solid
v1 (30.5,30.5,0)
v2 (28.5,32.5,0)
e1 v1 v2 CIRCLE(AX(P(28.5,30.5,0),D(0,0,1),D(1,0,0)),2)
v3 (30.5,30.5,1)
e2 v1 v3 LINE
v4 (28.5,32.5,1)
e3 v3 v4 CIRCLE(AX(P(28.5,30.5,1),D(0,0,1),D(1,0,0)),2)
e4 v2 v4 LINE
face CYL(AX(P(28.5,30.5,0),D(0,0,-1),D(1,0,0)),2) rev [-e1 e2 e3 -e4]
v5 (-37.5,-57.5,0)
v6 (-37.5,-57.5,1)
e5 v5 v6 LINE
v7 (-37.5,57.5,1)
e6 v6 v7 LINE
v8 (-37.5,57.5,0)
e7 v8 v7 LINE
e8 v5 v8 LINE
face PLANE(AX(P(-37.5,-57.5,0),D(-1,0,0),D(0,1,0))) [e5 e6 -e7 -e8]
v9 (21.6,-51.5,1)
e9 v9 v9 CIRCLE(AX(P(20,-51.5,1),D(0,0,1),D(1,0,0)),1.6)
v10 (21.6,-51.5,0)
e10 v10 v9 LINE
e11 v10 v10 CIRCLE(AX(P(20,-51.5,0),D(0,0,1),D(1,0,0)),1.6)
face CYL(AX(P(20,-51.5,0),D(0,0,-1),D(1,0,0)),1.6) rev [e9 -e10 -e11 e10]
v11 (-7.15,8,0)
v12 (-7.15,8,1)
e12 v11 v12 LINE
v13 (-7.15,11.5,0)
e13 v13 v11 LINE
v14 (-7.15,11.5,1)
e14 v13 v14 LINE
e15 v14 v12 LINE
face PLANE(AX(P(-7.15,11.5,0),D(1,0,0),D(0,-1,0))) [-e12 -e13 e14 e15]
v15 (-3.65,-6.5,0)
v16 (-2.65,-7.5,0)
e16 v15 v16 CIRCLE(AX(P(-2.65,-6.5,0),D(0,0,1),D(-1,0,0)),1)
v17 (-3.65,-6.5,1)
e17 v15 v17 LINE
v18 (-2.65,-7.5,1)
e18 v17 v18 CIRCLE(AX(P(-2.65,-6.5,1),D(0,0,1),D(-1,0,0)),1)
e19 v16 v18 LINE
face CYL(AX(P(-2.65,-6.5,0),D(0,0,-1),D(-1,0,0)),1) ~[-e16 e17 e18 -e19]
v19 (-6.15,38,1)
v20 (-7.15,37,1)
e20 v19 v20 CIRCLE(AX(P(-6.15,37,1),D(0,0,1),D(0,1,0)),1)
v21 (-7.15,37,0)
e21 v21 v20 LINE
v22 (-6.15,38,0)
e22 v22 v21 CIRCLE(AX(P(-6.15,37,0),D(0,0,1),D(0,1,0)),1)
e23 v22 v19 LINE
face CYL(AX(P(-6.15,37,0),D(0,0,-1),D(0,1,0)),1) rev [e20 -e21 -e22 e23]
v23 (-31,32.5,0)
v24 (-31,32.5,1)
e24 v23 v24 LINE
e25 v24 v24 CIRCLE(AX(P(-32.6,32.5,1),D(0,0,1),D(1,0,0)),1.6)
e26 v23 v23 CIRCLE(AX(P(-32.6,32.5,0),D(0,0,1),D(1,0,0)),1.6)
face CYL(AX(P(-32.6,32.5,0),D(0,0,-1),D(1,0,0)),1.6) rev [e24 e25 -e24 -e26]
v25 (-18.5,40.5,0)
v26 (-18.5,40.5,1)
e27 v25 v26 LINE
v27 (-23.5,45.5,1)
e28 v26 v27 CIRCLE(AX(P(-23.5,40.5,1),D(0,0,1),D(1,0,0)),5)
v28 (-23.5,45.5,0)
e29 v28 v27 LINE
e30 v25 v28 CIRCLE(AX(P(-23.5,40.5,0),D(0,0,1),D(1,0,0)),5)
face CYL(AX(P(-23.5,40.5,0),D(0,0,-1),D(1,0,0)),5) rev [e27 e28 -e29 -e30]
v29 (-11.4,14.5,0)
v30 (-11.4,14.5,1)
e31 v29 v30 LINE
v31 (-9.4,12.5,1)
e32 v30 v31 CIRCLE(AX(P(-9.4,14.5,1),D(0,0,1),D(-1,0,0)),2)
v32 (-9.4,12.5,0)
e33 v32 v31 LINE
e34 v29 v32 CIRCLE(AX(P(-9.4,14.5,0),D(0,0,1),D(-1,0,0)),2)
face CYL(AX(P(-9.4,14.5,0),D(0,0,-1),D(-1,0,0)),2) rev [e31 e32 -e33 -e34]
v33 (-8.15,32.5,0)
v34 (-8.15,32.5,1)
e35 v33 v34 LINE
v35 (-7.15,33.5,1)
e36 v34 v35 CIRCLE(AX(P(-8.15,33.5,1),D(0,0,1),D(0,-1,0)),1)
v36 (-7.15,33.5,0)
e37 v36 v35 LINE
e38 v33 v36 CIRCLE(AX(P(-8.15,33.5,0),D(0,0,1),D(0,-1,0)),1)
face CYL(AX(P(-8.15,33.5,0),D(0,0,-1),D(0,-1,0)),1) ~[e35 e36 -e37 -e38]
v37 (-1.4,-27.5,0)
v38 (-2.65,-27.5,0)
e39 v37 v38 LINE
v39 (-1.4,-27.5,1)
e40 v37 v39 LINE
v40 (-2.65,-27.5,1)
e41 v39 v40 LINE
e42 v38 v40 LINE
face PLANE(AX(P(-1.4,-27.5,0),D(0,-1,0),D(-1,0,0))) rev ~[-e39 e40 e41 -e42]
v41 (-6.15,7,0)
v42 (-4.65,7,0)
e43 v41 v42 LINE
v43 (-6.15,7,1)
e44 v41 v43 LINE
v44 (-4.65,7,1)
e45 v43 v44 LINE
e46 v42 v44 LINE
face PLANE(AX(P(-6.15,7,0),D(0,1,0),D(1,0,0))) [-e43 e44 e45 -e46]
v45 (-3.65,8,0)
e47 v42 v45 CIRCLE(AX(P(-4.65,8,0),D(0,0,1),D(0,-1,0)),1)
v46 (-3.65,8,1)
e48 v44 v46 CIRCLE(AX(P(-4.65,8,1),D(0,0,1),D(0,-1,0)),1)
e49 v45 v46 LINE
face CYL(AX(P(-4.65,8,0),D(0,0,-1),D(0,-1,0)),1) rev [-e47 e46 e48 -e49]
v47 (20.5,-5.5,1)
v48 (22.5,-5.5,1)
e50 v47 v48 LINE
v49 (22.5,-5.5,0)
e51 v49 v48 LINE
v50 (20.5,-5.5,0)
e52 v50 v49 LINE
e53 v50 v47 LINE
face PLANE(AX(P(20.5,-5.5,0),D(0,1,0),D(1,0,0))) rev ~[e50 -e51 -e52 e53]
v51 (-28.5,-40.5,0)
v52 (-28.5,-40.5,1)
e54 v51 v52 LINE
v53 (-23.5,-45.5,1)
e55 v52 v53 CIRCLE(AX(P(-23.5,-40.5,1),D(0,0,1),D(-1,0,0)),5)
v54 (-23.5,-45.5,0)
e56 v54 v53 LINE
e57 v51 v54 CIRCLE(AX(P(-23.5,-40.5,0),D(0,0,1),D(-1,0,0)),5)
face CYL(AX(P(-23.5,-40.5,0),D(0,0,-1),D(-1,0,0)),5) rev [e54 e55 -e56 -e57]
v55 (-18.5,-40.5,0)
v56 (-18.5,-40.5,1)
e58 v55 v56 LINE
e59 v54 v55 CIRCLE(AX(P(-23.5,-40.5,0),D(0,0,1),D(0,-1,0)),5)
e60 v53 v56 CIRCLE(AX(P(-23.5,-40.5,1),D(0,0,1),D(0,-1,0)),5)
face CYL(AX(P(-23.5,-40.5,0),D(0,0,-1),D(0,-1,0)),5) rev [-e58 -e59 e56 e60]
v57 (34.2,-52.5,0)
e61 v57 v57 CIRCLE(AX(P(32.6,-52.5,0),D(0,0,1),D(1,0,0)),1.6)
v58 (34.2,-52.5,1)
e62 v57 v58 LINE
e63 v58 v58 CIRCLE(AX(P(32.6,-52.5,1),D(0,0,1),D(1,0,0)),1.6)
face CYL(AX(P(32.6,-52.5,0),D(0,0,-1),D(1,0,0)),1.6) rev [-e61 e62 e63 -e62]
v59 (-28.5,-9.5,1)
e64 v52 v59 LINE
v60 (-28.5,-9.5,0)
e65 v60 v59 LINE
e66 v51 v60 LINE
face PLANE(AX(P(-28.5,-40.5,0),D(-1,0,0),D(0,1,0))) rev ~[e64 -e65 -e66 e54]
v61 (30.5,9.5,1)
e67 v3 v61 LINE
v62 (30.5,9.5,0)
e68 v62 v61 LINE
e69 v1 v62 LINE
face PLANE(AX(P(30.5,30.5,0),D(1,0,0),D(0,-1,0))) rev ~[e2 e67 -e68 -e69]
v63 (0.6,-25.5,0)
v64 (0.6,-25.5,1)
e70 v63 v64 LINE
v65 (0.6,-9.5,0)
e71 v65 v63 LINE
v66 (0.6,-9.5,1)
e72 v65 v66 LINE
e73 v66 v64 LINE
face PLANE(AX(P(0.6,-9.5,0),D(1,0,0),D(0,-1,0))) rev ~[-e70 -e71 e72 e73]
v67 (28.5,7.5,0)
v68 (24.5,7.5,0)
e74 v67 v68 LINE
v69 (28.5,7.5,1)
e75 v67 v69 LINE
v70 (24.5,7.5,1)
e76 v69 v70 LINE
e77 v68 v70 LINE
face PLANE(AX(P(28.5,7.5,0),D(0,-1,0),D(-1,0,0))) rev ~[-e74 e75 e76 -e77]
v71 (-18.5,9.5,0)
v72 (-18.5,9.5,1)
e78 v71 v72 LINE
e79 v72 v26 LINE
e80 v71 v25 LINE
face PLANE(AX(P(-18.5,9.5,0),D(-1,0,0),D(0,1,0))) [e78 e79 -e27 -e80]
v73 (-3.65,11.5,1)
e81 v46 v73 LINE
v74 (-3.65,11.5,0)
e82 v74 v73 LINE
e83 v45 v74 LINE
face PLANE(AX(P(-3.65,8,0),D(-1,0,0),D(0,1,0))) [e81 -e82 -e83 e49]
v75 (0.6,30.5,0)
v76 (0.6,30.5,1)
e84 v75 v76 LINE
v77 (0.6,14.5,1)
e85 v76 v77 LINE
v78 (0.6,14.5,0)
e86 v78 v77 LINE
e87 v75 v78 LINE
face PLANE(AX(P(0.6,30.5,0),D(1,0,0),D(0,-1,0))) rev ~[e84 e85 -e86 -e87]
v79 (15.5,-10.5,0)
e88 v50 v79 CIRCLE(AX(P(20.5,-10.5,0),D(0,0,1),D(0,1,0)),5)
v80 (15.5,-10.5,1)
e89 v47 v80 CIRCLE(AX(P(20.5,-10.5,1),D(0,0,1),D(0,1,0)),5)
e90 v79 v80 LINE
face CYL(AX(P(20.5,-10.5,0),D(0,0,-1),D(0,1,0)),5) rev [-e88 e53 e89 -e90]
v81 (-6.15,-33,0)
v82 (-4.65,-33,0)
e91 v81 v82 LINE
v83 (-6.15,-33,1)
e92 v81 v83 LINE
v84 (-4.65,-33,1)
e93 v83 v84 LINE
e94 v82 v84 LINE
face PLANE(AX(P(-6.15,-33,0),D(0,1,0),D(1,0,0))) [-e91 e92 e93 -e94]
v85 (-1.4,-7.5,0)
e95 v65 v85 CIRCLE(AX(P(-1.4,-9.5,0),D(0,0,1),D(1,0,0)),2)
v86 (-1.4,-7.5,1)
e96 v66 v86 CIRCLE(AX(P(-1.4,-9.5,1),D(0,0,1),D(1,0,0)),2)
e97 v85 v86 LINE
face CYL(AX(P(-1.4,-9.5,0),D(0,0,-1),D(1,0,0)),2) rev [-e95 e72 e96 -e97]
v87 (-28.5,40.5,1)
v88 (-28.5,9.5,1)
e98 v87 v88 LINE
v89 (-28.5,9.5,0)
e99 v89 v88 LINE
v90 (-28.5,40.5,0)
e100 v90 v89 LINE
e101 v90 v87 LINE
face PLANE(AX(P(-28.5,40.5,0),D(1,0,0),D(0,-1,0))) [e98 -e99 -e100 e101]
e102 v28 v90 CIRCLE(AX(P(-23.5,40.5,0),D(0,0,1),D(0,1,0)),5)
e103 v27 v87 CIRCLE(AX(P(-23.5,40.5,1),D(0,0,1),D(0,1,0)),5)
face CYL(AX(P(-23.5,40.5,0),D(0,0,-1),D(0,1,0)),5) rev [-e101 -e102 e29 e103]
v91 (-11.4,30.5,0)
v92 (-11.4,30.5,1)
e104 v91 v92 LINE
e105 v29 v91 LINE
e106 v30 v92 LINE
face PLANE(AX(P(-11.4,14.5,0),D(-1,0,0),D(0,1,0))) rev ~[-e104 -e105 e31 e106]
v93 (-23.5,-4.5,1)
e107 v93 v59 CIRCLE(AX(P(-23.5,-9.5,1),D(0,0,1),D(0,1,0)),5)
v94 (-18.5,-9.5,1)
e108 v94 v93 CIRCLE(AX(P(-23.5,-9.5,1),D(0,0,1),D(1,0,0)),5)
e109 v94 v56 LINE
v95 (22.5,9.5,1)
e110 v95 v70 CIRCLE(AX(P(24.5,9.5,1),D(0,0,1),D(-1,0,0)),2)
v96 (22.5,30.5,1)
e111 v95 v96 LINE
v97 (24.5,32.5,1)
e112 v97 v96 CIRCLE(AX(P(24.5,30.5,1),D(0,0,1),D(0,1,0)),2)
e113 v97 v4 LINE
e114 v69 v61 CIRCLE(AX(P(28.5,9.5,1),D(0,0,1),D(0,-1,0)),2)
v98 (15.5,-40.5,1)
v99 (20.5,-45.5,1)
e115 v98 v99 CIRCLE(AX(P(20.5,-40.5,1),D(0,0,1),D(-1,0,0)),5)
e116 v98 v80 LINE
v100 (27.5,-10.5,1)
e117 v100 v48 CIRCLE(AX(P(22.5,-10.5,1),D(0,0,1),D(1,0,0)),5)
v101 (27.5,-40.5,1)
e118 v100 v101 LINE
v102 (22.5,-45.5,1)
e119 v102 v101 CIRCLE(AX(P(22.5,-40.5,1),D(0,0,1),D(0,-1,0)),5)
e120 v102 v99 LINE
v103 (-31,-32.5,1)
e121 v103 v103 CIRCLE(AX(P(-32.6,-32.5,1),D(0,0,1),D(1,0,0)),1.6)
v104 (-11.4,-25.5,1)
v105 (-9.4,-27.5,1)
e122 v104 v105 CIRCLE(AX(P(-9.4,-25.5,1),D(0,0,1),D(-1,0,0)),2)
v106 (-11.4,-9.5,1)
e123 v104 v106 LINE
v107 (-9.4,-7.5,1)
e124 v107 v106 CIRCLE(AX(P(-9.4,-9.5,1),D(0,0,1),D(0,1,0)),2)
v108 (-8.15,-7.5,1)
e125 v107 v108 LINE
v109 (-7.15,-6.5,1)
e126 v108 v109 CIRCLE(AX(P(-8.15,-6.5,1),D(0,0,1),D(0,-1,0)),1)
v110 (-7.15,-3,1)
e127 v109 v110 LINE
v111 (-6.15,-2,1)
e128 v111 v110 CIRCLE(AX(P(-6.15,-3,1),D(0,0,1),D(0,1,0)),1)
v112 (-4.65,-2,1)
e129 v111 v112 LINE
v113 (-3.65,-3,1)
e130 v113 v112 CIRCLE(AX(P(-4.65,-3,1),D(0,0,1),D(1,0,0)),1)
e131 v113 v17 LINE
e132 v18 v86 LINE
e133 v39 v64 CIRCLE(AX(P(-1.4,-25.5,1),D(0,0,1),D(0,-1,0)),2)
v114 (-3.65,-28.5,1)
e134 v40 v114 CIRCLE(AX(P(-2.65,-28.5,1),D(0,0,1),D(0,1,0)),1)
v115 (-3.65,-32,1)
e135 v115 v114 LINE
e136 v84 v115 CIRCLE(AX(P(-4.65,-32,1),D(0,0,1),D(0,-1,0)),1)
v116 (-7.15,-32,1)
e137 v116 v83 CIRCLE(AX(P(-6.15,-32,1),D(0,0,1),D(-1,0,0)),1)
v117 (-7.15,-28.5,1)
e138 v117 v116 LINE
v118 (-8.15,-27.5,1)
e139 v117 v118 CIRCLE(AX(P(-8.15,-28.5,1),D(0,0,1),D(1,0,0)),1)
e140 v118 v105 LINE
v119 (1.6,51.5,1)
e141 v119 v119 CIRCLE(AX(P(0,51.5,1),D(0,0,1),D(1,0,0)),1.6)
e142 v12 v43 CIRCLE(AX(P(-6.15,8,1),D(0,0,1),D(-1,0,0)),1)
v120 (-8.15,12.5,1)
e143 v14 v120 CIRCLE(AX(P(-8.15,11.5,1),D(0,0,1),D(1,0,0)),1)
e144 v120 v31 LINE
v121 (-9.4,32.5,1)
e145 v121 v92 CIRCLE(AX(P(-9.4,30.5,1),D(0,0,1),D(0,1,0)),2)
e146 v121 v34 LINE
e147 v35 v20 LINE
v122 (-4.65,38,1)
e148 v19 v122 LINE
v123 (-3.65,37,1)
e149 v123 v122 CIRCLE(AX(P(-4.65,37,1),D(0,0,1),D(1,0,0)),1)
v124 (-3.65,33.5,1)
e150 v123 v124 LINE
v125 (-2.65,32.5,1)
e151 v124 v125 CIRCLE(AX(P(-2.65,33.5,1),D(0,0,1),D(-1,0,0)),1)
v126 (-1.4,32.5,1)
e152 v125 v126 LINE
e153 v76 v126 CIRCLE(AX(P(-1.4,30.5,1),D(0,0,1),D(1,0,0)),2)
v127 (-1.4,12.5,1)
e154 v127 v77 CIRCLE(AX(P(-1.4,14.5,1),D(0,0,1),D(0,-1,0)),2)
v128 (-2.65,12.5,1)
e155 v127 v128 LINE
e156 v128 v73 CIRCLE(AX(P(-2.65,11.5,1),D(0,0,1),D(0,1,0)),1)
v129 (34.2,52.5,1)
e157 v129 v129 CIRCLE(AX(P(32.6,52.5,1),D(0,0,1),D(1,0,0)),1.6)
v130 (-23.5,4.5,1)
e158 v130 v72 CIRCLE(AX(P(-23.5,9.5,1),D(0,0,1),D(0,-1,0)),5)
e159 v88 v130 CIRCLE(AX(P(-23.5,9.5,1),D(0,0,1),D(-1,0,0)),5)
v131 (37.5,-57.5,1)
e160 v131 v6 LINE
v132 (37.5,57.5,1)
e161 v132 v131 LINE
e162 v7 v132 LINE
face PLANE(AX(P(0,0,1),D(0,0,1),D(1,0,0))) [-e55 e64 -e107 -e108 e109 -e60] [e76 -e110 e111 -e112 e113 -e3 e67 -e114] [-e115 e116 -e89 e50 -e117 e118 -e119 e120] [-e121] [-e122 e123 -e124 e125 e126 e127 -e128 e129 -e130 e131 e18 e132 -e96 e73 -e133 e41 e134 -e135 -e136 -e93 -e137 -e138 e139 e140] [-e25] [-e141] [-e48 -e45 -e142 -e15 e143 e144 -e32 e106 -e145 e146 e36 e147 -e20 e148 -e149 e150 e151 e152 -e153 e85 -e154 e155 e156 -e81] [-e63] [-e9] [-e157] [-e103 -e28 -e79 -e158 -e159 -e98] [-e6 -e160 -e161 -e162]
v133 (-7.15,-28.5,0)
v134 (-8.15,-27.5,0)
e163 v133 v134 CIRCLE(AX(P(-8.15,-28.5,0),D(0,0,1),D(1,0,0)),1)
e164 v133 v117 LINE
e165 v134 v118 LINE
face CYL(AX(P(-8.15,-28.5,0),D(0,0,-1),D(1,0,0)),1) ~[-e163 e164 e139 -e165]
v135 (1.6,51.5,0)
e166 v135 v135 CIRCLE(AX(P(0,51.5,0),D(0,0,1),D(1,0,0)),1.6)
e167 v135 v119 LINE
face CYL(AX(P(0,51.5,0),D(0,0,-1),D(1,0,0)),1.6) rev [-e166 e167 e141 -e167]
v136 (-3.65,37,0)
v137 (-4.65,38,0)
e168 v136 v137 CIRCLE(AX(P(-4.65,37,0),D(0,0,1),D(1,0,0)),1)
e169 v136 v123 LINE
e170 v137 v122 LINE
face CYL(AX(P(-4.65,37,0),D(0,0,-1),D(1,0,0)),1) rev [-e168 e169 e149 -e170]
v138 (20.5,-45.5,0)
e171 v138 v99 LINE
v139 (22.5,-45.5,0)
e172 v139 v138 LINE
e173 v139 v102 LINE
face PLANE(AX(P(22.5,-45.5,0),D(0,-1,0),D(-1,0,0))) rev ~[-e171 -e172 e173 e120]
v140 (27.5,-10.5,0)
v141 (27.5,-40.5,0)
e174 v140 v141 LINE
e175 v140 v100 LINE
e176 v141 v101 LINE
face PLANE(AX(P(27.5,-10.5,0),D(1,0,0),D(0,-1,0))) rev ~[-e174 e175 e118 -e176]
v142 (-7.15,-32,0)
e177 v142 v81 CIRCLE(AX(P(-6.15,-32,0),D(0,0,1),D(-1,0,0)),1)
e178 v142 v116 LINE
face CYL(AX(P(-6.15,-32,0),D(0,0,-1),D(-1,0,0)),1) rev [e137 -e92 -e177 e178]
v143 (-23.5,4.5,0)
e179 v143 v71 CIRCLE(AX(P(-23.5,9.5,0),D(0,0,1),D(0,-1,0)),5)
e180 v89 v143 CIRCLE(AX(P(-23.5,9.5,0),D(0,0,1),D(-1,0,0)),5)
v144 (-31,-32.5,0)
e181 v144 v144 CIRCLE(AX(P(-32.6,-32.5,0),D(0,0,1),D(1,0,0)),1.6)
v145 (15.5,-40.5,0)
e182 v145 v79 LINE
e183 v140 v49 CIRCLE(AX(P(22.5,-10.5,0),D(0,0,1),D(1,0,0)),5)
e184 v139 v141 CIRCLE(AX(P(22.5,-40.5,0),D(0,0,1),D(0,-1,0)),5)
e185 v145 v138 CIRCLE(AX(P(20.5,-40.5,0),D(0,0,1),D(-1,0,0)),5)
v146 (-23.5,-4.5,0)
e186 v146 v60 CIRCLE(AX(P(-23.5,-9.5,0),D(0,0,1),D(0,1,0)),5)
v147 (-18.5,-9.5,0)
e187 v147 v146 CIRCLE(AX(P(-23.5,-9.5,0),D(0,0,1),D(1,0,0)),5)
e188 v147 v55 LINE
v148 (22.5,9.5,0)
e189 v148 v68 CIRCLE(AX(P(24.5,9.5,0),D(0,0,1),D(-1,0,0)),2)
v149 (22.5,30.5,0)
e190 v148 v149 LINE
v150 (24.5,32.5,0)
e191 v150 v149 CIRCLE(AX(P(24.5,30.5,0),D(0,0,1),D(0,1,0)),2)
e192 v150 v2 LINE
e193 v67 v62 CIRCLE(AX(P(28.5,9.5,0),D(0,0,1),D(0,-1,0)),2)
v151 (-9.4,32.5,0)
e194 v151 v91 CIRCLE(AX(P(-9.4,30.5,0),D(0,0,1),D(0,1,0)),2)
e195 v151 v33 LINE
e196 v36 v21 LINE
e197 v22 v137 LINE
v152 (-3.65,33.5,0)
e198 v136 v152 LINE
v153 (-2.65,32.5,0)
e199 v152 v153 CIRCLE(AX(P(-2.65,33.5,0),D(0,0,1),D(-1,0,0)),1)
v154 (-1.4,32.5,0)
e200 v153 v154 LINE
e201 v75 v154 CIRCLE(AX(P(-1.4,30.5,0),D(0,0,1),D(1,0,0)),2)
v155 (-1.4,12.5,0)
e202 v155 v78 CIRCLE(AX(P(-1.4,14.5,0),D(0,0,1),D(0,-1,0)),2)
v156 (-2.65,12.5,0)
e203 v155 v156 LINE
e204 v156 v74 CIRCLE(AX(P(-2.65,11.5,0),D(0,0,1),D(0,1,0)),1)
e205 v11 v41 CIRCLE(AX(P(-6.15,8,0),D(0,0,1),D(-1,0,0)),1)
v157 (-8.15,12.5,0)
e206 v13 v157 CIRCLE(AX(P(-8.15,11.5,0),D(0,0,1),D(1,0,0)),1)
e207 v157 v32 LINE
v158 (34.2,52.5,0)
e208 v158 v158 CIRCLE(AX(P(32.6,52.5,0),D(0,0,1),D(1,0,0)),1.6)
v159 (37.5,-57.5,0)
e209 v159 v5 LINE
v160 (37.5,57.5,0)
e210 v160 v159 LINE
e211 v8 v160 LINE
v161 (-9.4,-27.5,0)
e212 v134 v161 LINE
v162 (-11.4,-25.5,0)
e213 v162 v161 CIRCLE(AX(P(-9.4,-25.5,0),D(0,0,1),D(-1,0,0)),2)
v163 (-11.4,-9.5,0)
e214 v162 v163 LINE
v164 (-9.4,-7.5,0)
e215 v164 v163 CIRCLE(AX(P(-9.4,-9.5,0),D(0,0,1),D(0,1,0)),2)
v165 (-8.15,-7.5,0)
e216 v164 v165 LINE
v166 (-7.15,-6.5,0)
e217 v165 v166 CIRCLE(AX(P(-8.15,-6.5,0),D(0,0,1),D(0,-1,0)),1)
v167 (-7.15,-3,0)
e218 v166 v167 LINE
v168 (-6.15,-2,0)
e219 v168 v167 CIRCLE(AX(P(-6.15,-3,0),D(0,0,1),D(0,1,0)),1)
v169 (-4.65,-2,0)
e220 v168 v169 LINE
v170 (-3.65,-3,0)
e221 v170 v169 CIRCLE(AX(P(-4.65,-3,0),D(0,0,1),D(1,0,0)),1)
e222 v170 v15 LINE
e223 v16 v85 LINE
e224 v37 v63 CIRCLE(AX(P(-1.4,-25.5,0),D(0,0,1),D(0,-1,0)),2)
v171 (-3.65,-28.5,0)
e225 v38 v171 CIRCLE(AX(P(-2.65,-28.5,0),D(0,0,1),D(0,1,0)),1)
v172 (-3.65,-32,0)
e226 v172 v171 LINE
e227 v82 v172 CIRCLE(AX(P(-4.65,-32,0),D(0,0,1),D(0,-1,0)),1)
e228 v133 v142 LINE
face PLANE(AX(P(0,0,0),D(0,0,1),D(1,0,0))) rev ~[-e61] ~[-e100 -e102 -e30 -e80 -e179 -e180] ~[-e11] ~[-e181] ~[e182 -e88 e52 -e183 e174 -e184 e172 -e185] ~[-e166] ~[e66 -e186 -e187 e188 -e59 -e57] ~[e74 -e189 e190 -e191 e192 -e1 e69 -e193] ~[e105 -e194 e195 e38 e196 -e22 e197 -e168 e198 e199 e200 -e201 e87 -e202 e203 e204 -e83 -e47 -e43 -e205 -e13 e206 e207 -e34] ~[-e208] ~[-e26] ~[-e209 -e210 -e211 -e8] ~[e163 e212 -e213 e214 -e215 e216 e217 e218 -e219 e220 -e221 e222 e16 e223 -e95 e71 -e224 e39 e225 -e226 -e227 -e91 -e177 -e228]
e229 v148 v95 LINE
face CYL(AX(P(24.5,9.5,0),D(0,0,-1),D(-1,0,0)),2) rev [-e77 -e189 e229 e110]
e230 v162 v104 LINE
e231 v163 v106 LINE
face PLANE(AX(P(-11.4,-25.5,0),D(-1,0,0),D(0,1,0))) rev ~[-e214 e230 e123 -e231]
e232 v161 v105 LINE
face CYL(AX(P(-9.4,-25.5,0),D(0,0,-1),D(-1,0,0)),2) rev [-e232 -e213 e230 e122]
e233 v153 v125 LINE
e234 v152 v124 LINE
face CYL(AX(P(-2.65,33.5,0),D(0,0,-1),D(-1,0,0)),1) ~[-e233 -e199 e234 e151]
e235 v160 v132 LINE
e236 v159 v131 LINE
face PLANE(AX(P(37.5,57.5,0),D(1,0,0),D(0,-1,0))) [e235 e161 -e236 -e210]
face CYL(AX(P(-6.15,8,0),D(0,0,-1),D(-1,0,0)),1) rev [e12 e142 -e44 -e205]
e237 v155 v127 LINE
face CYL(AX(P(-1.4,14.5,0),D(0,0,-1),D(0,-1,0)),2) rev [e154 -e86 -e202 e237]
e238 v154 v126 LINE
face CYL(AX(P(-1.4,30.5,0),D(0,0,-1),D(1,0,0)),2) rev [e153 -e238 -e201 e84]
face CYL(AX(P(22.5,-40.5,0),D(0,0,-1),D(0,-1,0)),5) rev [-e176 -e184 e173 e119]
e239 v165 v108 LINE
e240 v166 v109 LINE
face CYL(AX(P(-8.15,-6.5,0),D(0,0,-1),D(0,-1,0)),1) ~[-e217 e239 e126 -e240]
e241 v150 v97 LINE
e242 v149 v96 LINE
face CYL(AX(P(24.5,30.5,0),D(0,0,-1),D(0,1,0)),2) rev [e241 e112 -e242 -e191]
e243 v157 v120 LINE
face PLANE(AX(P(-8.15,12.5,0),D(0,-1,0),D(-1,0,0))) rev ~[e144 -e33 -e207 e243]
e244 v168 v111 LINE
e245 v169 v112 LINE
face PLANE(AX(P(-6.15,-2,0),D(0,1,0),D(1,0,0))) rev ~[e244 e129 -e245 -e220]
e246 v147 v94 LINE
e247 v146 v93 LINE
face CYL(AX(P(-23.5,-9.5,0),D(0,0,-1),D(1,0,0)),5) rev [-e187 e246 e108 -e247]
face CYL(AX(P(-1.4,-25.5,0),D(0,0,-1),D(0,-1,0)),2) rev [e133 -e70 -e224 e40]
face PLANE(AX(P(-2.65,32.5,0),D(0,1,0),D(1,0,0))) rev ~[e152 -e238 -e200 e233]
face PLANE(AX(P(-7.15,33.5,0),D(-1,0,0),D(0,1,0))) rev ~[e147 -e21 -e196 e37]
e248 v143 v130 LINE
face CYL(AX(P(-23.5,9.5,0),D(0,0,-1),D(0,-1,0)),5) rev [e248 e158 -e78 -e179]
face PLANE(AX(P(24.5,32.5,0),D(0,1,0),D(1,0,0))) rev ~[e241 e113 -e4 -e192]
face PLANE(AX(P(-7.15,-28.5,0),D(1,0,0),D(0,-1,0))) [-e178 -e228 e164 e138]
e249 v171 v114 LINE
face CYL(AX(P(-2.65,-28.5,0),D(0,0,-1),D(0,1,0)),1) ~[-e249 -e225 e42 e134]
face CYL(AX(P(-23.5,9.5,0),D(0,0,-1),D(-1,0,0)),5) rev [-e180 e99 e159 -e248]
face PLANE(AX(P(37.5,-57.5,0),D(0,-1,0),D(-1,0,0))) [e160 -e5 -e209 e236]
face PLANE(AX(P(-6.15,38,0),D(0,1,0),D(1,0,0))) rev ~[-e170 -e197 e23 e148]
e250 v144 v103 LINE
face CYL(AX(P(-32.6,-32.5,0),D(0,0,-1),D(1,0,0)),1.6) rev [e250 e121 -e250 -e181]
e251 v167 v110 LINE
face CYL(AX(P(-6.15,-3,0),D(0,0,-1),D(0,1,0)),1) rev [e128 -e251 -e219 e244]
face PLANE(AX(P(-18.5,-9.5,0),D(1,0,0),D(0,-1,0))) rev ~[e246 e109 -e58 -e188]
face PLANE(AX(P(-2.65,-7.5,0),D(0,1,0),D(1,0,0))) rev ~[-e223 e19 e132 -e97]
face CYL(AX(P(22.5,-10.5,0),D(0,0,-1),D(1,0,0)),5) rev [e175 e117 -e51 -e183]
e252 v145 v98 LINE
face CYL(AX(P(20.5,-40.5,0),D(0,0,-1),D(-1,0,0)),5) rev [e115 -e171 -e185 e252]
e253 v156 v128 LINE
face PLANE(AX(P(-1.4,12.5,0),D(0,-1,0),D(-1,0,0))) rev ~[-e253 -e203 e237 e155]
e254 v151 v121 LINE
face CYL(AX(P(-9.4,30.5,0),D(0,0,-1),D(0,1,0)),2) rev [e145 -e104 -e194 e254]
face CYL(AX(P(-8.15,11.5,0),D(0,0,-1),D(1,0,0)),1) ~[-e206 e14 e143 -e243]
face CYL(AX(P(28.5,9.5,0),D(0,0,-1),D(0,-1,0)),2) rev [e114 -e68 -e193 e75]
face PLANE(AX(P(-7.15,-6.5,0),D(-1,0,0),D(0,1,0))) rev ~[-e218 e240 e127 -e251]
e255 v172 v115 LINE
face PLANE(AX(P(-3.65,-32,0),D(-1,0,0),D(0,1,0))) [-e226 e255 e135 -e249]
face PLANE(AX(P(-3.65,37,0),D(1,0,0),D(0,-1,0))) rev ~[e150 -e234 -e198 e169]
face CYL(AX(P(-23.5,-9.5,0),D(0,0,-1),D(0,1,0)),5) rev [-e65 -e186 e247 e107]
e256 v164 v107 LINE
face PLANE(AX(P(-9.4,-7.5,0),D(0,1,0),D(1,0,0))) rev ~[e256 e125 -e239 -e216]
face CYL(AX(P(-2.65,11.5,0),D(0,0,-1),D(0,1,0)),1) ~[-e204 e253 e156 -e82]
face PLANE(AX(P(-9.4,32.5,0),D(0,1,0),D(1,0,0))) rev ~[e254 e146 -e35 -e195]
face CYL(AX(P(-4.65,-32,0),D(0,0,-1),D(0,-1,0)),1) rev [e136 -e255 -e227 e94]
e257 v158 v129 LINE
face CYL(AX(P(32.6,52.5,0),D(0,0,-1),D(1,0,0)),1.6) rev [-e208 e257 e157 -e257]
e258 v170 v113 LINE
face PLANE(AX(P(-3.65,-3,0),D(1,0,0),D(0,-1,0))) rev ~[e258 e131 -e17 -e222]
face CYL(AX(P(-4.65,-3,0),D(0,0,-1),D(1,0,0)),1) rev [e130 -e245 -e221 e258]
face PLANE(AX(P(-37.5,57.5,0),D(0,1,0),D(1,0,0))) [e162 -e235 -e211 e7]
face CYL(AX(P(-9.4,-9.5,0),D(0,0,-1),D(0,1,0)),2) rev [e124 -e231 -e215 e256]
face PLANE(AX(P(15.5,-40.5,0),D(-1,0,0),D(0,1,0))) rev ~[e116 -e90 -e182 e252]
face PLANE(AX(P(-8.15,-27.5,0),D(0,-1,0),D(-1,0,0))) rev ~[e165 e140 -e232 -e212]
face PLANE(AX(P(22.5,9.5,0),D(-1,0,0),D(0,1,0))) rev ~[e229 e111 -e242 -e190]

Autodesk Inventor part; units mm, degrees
ref_plane "YZ Plane" through (0, 0, 0) normal (1, 0, 0) x (0, 1, 0)
ref_plane "XZ Plane" through (0, 0, 0) normal (0, 1, 0) x (-1, 0, 0)
ref_plane "XY Plane" through (0, 0, 0) normal (0, 0, 1) x (1, 0, 0)
sketch "Sketch1" plane through (0, 0, 0) normal (0, 0, 1) x (1, 0, 0)
  line L0 (-37.5, 57.5) -> (37.5, 57.5)
  line L1 (37.5, 57.5) -> (37.5, -57.5)
  line L2 (37.5, -57.5) -> (-37.5, -57.5)
  line L3 (-37.5, -57.5) -> (-37.5, 57.5)
  line L4 (-37.5, 57.5) -> (37.5, -57.5) construction
  line L5 (37.5, 57.5) -> (-37.5, -57.5) construction
  line L6 (0, 0) -> (0, 12.9993)
  circle A0 centre (-32.6, -32.5) radius 1.6
  circle A1 centre (0, 51.5) radius 1.6
  line L7 (0, 0) -> (8.7382, 0)
  circle A2 centre (20, -51.5) radius 1.6
  circle A3 centre (-32.6, 32.5) radius 1.6
  circle A4 centre (32.6, 52.5) radius 1.6
  circle A5 centre (32.6, -52.5) radius 1.6
  line L8 (0.6, -9.5) -> (0.6, -25.5)
  line L9 (-11.4, -25.5) -> (-11.4, -9.5)
  line L10 (-11.4, -7.5) -> (0.6, -27.5) construction
  line L11 (0.6, -7.5) -> (-11.4, -27.5) construction
  line L12 (-6.15, -2) -> (-4.65, -2)
  line L13 (-3.65, -3) -> (-3.65, -6.5)
  line L14 (-7.15, -6.5) -> (-7.15, -3)
  line L15 (-7.15, -2) -> (-3.65, -7.5) construction
  line L16 (-3.65, -2) -> (-7.15, -7.5) construction
  line L17 (-6.15, -33) -> (-4.65, -33)
  line L18 (-3.65, -32) -> (-3.65, -28.5)
  line L19 (-7.15, -28.5) -> (-7.15, -32)
  line L20 (-7.15, -33) -> (-3.65, -27.5) construction
  line L21 (-3.65, -33) -> (-7.15, -27.5) construction
  line L22 (28.5, 7.5) -> (24.5, 7.5)
  line L23 (22.5, 9.5) -> (22.5, 30.5)
  line L24 (24.5, 32.5) -> (28.5, 32.5)
  line L25 (30.5, 30.5) -> (30.5, 9.5)
  line L26 (30.5, 7.5) -> (22.5, 32.5) construction
  line L27 (22.5, 7.5) -> (30.5, 32.5) construction
  line L28 (-23.5, -45.5) -> (-23.5, -45.5)
  line L29 (-28.5, -40.5) -> (-28.5, -9.5)
  line L30 (-23.5, -4.5) -> (-23.5, -4.5)
  line L31 (-18.5, -9.5) -> (-18.5, -40.5)
  line L32 (-18.5, -45.5) -> (-28.5, -4.5) construction
  line L33 (-28.5, -45.5) -> (-18.5, -4.5) construction
  arc A6 (-23.5, -45.5) -> (-18.5, -40.5) centre (-23.5, -40.5) ccw
  arc A7 (-18.5, -9.5) -> (-23.5, -4.5) centre (-23.5, -9.5) ccw
  arc A8 (-23.5, -4.5) -> (-28.5, -9.5) centre (-23.5, -9.5) ccw
  arc A9 (-28.5, -40.5) -> (-23.5, -45.5) centre (-23.5, -40.5) ccw
  line L34 (-23.5, 45.5) -> (-23.5, 45.5)
  line L35 (-28.5, 40.5) -> (-28.5, 9.5)
  line L36 (-23.5, 4.5) -> (-23.5, 4.5)
  line L37 (-18.5, 9.5) -> (-18.5, 40.5)
  line L38 (-18.5, 45.5) -> (-28.5, 4.5) construction
  line L39 (-28.5, 45.5) -> (-18.5, 4.5) construction
  arc A10 (-18.5, 40.5) -> (-23.5, 45.5) centre (-23.5, 40.5) ccw
  arc A11 (-23.5, 4.5) -> (-18.5, 9.5) centre (-23.5, 9.5) ccw
  arc A12 (-28.5, 9.5) -> (-23.5, 4.5) centre (-23.5, 9.5) ccw
  arc A13 (-23.5, 45.5) -> (-28.5, 40.5) centre (-23.5, 40.5) ccw
  line L40 (22.5, -45.5) -> (20.5, -45.5)
  line L41 (15.5, -40.5) -> (15.5, -10.5)
  line L42 (20.5, -5.5) -> (22.5, -5.5)
  line L43 (27.5, -10.5) -> (27.5, -40.5)
  line L44 (27.5, -45.5) -> (15.5, -5.5) construction
  line L45 (15.5, -45.5) -> (27.5, -5.5) construction
  arc A14 (22.5, -45.5) -> (27.5, -40.5) centre (22.5, -40.5) ccw
  arc A15 (15.5, -40.5) -> (20.5, -45.5) centre (20.5, -40.5) ccw
  arc A16 (27.5, -10.5) -> (22.5, -5.5) centre (22.5, -10.5) ccw
  arc A17 (20.5, -5.5) -> (15.5, -10.5) centre (20.5, -10.5) ccw
  arc A18 (-7.15, -32) -> (-6.15, -33) centre (-6.15, -32) ccw
  arc A19 (-4.65, -33) -> (-3.65, -32) centre (-4.65, -32) ccw
  arc A20 (-3.65, -3) -> (-4.65, -2) centre (-4.65, -3) ccw
  arc A21 (-6.15, -2) -> (-7.15, -3) centre (-6.15, -3) ccw
  line L46 (-9.4, -7.5) -> (-8.15, -7.5)
  line L47 (-2.65, -7.5) -> (-1.4, -7.5)
  line L48 (-1.4, -27.5) -> (-2.65, -27.5)
  line L49 (-8.15, -27.5) -> (-9.4, -27.5)
  arc A22 (-1.4, -27.5) -> (0.6, -25.5) centre (-1.4, -25.5) ccw
  arc A23 (0.6, -9.5) -> (-1.4, -7.5) centre (-1.4, -9.5) ccw
  arc A24 (-11.4, -25.5) -> (-9.4, -27.5) centre (-9.4, -25.5) ccw
  arc A25 (-9.4, -7.5) -> (-11.4, -9.5) centre (-9.4, -9.5) ccw
  arc A26 (-7.15, -28.5) -> (-8.15, -27.5) centre (-8.15, -28.5) ccw
  arc A27 (-2.65, -27.5) -> (-3.65, -28.5) centre (-2.65, -28.5) ccw
  arc A28 (-3.65, -6.5) -> (-2.65, -7.5) centre (-2.65, -6.5) ccw
  arc A29 (-8.15, -7.5) -> (-7.15, -6.5) centre (-8.15, -6.5) ccw
  line L50 (-7.15, 11.5) -> (-7.15, 8)
  arc A30 (-2.65, 12.5) -> (-3.65, 11.5) centre (-2.65, 11.5) ccw
  arc A31 (-1.4, 12.5) -> (0.6, 14.5) centre (-1.4, 14.5) ccw
  line L51 (-1.4, 12.5) -> (-2.65, 12.5)
  arc A32 (-7.15, 8) -> (-6.15, 7) centre (-6.15, 8) ccw
  line L52 (-7.15, 7) -> (-3.65, 12.5) construction
  line L53 (-3.65, 7) -> (-7.15, 12.5) construction
  line L54 (-3.65, 8) -> (-3.65, 11.5)
  line L55 (-6.15, 7) -> (-4.65, 7)
  arc A33 (-4.65, 7) -> (-3.65, 8) centre (-4.65, 8) ccw
  line L56 (-11.4, 14.5) -> (-11.4, 30.5)
  arc A34 (-7.15, 11.5) -> (-8.15, 12.5) centre (-8.15, 11.5) ccw
  line L57 (-8.15, 12.5) -> (-9.4, 12.5)
  arc A35 (-11.4, 14.5) -> (-9.4, 12.5) centre (-9.4, 14.5) ccw
  line L58 (-2.65, 32.5) -> (-1.4, 32.5)
  arc A36 (0.6, 30.5) -> (-1.4, 32.5) centre (-1.4, 30.5) ccw
  line L59 (-6.15, 38) -> (-4.65, 38)
  line L60 (-3.65, 37) -> (-3.65, 33.5)
  line L61 (-7.15, 33.5) -> (-7.15, 37)
  line L62 (-7.15, 38) -> (-3.65, 32.5) construction
  line L63 (-3.65, 38) -> (-7.15, 32.5) construction
  line L64 (-9.4, 32.5) -> (-8.15, 32.5)
  arc A37 (-8.15, 32.5) -> (-7.15, 33.5) centre (-8.15, 33.5) ccw
  arc A38 (-9.4, 32.5) -> (-11.4, 30.5) centre (-9.4, 30.5) ccw
  arc A39 (-6.15, 38) -> (-7.15, 37) centre (-6.15, 37) ccw
  arc A40 (-3.65, 37) -> (-4.65, 38) centre (-4.65, 37) ccw
  arc A41 (-3.65, 33.5) -> (-2.65, 32.5) centre (-2.65, 33.5) ccw
  line L65 (0.6, 30.5) -> (0.6, 14.5)
  line L66 (-11.4, 32.5) -> (0.6, 12.5) construction
  line L67 (0.6, 32.5) -> (-11.4, 12.5) construction
  arc A42 (24.5, 32.5) -> (22.5, 30.5) centre (24.5, 30.5) ccw
  arc A43 (30.5, 30.5) -> (28.5, 32.5) centre (28.5, 30.5) ccw
  arc A44 (28.5, 7.5) -> (30.5, 9.5) centre (28.5, 9.5) ccw
  arc A45 (22.5, 9.5) -> (24.5, 7.5) centre (24.5, 9.5) ccw
  point P0 (-5.4, -17.5)
  point P1 (-5.4, -4.75)
  point P2 (-5.4, -30.25)
  point P3 (26.5, 20)
  point P4 (-23.5, -25)
  point P5 (-23.5, 25)
  point P6 (21.5, -25.5)
  point P7 (-5.4, 9.75)
  point P8 (-5.4, 35.25)
  point P9 (-5.4, 22.5)
  point P10 (0, 57.5)
  point P11 (0, -57.5)
  point P12 (22.5, 20)
  dimension "d0" = 115
  dimension "d1" = 75
  dimension "d22" = 3.2
  dimension "d25" = 3.2
  dimension "d26" = 6
  dimension "d27" = 25
  dimension "d28" = 4.9
  dimension "d29" = 3.2
  dimension "d30" = 4.9
  dimension "d31" = 5
  dimension "d32" = 5.5
  dimension "d33" = 3.5
  dimension "d34" = 12
  dimension "d35" = 20
  dimension "d38" = 26.1
  dimension "d39" = 8
  dimension "d40" = 25
  dimension "d42" = 25
  dimension "d43" = 41
  dimension "d44" = 10
  dimension "d45" = 9
  dimension "d46" = 12
  dimension "d47" = 5
  dimension "d48" = 40
  dimension "d49" = 12
  dimension "d50" = 10
  dimension "d51" = 12
  dimension "d52" = 5
  dimension "d53" = 1
  dimension "d54" = 30
  dimension "d55" = 2
  dimension "d56" = 1
  dimension "d59" = 40
  dimension "d64" = 9
  dimension "d65" = 12
  dimension "d67" = 0
  dimension "d68" = 3.2
  dimension "d69" = 6
  dimension "d70" = 20
  dimension "d71" = 2
  dimension "d72" = 60
extrude "Plate1" add sketch "Sketch1" along normal blind 1
equation "\"d2\" = 厚度"
equation "\"折彎半徑\" = 厚度"
equation "\"折彎離隙寬度\" = 厚度"
equation "\"折彎離隙深度\" = 0.5 * 厚度"
equation "\"轉角離隙大小\" = 4 * 厚度"
equation "\"最小剩餘\" = 2 * 厚度"
equation "\"轉移半徑\" = 折彎半徑"
equation "\"Jacobi半徑大小\" = 折彎半徑"
equation "\"間隙大小\" = 厚度"
equation "\"厚度\" = 1"
properties part number "PCB_board_box_front" material "Aluminum"
